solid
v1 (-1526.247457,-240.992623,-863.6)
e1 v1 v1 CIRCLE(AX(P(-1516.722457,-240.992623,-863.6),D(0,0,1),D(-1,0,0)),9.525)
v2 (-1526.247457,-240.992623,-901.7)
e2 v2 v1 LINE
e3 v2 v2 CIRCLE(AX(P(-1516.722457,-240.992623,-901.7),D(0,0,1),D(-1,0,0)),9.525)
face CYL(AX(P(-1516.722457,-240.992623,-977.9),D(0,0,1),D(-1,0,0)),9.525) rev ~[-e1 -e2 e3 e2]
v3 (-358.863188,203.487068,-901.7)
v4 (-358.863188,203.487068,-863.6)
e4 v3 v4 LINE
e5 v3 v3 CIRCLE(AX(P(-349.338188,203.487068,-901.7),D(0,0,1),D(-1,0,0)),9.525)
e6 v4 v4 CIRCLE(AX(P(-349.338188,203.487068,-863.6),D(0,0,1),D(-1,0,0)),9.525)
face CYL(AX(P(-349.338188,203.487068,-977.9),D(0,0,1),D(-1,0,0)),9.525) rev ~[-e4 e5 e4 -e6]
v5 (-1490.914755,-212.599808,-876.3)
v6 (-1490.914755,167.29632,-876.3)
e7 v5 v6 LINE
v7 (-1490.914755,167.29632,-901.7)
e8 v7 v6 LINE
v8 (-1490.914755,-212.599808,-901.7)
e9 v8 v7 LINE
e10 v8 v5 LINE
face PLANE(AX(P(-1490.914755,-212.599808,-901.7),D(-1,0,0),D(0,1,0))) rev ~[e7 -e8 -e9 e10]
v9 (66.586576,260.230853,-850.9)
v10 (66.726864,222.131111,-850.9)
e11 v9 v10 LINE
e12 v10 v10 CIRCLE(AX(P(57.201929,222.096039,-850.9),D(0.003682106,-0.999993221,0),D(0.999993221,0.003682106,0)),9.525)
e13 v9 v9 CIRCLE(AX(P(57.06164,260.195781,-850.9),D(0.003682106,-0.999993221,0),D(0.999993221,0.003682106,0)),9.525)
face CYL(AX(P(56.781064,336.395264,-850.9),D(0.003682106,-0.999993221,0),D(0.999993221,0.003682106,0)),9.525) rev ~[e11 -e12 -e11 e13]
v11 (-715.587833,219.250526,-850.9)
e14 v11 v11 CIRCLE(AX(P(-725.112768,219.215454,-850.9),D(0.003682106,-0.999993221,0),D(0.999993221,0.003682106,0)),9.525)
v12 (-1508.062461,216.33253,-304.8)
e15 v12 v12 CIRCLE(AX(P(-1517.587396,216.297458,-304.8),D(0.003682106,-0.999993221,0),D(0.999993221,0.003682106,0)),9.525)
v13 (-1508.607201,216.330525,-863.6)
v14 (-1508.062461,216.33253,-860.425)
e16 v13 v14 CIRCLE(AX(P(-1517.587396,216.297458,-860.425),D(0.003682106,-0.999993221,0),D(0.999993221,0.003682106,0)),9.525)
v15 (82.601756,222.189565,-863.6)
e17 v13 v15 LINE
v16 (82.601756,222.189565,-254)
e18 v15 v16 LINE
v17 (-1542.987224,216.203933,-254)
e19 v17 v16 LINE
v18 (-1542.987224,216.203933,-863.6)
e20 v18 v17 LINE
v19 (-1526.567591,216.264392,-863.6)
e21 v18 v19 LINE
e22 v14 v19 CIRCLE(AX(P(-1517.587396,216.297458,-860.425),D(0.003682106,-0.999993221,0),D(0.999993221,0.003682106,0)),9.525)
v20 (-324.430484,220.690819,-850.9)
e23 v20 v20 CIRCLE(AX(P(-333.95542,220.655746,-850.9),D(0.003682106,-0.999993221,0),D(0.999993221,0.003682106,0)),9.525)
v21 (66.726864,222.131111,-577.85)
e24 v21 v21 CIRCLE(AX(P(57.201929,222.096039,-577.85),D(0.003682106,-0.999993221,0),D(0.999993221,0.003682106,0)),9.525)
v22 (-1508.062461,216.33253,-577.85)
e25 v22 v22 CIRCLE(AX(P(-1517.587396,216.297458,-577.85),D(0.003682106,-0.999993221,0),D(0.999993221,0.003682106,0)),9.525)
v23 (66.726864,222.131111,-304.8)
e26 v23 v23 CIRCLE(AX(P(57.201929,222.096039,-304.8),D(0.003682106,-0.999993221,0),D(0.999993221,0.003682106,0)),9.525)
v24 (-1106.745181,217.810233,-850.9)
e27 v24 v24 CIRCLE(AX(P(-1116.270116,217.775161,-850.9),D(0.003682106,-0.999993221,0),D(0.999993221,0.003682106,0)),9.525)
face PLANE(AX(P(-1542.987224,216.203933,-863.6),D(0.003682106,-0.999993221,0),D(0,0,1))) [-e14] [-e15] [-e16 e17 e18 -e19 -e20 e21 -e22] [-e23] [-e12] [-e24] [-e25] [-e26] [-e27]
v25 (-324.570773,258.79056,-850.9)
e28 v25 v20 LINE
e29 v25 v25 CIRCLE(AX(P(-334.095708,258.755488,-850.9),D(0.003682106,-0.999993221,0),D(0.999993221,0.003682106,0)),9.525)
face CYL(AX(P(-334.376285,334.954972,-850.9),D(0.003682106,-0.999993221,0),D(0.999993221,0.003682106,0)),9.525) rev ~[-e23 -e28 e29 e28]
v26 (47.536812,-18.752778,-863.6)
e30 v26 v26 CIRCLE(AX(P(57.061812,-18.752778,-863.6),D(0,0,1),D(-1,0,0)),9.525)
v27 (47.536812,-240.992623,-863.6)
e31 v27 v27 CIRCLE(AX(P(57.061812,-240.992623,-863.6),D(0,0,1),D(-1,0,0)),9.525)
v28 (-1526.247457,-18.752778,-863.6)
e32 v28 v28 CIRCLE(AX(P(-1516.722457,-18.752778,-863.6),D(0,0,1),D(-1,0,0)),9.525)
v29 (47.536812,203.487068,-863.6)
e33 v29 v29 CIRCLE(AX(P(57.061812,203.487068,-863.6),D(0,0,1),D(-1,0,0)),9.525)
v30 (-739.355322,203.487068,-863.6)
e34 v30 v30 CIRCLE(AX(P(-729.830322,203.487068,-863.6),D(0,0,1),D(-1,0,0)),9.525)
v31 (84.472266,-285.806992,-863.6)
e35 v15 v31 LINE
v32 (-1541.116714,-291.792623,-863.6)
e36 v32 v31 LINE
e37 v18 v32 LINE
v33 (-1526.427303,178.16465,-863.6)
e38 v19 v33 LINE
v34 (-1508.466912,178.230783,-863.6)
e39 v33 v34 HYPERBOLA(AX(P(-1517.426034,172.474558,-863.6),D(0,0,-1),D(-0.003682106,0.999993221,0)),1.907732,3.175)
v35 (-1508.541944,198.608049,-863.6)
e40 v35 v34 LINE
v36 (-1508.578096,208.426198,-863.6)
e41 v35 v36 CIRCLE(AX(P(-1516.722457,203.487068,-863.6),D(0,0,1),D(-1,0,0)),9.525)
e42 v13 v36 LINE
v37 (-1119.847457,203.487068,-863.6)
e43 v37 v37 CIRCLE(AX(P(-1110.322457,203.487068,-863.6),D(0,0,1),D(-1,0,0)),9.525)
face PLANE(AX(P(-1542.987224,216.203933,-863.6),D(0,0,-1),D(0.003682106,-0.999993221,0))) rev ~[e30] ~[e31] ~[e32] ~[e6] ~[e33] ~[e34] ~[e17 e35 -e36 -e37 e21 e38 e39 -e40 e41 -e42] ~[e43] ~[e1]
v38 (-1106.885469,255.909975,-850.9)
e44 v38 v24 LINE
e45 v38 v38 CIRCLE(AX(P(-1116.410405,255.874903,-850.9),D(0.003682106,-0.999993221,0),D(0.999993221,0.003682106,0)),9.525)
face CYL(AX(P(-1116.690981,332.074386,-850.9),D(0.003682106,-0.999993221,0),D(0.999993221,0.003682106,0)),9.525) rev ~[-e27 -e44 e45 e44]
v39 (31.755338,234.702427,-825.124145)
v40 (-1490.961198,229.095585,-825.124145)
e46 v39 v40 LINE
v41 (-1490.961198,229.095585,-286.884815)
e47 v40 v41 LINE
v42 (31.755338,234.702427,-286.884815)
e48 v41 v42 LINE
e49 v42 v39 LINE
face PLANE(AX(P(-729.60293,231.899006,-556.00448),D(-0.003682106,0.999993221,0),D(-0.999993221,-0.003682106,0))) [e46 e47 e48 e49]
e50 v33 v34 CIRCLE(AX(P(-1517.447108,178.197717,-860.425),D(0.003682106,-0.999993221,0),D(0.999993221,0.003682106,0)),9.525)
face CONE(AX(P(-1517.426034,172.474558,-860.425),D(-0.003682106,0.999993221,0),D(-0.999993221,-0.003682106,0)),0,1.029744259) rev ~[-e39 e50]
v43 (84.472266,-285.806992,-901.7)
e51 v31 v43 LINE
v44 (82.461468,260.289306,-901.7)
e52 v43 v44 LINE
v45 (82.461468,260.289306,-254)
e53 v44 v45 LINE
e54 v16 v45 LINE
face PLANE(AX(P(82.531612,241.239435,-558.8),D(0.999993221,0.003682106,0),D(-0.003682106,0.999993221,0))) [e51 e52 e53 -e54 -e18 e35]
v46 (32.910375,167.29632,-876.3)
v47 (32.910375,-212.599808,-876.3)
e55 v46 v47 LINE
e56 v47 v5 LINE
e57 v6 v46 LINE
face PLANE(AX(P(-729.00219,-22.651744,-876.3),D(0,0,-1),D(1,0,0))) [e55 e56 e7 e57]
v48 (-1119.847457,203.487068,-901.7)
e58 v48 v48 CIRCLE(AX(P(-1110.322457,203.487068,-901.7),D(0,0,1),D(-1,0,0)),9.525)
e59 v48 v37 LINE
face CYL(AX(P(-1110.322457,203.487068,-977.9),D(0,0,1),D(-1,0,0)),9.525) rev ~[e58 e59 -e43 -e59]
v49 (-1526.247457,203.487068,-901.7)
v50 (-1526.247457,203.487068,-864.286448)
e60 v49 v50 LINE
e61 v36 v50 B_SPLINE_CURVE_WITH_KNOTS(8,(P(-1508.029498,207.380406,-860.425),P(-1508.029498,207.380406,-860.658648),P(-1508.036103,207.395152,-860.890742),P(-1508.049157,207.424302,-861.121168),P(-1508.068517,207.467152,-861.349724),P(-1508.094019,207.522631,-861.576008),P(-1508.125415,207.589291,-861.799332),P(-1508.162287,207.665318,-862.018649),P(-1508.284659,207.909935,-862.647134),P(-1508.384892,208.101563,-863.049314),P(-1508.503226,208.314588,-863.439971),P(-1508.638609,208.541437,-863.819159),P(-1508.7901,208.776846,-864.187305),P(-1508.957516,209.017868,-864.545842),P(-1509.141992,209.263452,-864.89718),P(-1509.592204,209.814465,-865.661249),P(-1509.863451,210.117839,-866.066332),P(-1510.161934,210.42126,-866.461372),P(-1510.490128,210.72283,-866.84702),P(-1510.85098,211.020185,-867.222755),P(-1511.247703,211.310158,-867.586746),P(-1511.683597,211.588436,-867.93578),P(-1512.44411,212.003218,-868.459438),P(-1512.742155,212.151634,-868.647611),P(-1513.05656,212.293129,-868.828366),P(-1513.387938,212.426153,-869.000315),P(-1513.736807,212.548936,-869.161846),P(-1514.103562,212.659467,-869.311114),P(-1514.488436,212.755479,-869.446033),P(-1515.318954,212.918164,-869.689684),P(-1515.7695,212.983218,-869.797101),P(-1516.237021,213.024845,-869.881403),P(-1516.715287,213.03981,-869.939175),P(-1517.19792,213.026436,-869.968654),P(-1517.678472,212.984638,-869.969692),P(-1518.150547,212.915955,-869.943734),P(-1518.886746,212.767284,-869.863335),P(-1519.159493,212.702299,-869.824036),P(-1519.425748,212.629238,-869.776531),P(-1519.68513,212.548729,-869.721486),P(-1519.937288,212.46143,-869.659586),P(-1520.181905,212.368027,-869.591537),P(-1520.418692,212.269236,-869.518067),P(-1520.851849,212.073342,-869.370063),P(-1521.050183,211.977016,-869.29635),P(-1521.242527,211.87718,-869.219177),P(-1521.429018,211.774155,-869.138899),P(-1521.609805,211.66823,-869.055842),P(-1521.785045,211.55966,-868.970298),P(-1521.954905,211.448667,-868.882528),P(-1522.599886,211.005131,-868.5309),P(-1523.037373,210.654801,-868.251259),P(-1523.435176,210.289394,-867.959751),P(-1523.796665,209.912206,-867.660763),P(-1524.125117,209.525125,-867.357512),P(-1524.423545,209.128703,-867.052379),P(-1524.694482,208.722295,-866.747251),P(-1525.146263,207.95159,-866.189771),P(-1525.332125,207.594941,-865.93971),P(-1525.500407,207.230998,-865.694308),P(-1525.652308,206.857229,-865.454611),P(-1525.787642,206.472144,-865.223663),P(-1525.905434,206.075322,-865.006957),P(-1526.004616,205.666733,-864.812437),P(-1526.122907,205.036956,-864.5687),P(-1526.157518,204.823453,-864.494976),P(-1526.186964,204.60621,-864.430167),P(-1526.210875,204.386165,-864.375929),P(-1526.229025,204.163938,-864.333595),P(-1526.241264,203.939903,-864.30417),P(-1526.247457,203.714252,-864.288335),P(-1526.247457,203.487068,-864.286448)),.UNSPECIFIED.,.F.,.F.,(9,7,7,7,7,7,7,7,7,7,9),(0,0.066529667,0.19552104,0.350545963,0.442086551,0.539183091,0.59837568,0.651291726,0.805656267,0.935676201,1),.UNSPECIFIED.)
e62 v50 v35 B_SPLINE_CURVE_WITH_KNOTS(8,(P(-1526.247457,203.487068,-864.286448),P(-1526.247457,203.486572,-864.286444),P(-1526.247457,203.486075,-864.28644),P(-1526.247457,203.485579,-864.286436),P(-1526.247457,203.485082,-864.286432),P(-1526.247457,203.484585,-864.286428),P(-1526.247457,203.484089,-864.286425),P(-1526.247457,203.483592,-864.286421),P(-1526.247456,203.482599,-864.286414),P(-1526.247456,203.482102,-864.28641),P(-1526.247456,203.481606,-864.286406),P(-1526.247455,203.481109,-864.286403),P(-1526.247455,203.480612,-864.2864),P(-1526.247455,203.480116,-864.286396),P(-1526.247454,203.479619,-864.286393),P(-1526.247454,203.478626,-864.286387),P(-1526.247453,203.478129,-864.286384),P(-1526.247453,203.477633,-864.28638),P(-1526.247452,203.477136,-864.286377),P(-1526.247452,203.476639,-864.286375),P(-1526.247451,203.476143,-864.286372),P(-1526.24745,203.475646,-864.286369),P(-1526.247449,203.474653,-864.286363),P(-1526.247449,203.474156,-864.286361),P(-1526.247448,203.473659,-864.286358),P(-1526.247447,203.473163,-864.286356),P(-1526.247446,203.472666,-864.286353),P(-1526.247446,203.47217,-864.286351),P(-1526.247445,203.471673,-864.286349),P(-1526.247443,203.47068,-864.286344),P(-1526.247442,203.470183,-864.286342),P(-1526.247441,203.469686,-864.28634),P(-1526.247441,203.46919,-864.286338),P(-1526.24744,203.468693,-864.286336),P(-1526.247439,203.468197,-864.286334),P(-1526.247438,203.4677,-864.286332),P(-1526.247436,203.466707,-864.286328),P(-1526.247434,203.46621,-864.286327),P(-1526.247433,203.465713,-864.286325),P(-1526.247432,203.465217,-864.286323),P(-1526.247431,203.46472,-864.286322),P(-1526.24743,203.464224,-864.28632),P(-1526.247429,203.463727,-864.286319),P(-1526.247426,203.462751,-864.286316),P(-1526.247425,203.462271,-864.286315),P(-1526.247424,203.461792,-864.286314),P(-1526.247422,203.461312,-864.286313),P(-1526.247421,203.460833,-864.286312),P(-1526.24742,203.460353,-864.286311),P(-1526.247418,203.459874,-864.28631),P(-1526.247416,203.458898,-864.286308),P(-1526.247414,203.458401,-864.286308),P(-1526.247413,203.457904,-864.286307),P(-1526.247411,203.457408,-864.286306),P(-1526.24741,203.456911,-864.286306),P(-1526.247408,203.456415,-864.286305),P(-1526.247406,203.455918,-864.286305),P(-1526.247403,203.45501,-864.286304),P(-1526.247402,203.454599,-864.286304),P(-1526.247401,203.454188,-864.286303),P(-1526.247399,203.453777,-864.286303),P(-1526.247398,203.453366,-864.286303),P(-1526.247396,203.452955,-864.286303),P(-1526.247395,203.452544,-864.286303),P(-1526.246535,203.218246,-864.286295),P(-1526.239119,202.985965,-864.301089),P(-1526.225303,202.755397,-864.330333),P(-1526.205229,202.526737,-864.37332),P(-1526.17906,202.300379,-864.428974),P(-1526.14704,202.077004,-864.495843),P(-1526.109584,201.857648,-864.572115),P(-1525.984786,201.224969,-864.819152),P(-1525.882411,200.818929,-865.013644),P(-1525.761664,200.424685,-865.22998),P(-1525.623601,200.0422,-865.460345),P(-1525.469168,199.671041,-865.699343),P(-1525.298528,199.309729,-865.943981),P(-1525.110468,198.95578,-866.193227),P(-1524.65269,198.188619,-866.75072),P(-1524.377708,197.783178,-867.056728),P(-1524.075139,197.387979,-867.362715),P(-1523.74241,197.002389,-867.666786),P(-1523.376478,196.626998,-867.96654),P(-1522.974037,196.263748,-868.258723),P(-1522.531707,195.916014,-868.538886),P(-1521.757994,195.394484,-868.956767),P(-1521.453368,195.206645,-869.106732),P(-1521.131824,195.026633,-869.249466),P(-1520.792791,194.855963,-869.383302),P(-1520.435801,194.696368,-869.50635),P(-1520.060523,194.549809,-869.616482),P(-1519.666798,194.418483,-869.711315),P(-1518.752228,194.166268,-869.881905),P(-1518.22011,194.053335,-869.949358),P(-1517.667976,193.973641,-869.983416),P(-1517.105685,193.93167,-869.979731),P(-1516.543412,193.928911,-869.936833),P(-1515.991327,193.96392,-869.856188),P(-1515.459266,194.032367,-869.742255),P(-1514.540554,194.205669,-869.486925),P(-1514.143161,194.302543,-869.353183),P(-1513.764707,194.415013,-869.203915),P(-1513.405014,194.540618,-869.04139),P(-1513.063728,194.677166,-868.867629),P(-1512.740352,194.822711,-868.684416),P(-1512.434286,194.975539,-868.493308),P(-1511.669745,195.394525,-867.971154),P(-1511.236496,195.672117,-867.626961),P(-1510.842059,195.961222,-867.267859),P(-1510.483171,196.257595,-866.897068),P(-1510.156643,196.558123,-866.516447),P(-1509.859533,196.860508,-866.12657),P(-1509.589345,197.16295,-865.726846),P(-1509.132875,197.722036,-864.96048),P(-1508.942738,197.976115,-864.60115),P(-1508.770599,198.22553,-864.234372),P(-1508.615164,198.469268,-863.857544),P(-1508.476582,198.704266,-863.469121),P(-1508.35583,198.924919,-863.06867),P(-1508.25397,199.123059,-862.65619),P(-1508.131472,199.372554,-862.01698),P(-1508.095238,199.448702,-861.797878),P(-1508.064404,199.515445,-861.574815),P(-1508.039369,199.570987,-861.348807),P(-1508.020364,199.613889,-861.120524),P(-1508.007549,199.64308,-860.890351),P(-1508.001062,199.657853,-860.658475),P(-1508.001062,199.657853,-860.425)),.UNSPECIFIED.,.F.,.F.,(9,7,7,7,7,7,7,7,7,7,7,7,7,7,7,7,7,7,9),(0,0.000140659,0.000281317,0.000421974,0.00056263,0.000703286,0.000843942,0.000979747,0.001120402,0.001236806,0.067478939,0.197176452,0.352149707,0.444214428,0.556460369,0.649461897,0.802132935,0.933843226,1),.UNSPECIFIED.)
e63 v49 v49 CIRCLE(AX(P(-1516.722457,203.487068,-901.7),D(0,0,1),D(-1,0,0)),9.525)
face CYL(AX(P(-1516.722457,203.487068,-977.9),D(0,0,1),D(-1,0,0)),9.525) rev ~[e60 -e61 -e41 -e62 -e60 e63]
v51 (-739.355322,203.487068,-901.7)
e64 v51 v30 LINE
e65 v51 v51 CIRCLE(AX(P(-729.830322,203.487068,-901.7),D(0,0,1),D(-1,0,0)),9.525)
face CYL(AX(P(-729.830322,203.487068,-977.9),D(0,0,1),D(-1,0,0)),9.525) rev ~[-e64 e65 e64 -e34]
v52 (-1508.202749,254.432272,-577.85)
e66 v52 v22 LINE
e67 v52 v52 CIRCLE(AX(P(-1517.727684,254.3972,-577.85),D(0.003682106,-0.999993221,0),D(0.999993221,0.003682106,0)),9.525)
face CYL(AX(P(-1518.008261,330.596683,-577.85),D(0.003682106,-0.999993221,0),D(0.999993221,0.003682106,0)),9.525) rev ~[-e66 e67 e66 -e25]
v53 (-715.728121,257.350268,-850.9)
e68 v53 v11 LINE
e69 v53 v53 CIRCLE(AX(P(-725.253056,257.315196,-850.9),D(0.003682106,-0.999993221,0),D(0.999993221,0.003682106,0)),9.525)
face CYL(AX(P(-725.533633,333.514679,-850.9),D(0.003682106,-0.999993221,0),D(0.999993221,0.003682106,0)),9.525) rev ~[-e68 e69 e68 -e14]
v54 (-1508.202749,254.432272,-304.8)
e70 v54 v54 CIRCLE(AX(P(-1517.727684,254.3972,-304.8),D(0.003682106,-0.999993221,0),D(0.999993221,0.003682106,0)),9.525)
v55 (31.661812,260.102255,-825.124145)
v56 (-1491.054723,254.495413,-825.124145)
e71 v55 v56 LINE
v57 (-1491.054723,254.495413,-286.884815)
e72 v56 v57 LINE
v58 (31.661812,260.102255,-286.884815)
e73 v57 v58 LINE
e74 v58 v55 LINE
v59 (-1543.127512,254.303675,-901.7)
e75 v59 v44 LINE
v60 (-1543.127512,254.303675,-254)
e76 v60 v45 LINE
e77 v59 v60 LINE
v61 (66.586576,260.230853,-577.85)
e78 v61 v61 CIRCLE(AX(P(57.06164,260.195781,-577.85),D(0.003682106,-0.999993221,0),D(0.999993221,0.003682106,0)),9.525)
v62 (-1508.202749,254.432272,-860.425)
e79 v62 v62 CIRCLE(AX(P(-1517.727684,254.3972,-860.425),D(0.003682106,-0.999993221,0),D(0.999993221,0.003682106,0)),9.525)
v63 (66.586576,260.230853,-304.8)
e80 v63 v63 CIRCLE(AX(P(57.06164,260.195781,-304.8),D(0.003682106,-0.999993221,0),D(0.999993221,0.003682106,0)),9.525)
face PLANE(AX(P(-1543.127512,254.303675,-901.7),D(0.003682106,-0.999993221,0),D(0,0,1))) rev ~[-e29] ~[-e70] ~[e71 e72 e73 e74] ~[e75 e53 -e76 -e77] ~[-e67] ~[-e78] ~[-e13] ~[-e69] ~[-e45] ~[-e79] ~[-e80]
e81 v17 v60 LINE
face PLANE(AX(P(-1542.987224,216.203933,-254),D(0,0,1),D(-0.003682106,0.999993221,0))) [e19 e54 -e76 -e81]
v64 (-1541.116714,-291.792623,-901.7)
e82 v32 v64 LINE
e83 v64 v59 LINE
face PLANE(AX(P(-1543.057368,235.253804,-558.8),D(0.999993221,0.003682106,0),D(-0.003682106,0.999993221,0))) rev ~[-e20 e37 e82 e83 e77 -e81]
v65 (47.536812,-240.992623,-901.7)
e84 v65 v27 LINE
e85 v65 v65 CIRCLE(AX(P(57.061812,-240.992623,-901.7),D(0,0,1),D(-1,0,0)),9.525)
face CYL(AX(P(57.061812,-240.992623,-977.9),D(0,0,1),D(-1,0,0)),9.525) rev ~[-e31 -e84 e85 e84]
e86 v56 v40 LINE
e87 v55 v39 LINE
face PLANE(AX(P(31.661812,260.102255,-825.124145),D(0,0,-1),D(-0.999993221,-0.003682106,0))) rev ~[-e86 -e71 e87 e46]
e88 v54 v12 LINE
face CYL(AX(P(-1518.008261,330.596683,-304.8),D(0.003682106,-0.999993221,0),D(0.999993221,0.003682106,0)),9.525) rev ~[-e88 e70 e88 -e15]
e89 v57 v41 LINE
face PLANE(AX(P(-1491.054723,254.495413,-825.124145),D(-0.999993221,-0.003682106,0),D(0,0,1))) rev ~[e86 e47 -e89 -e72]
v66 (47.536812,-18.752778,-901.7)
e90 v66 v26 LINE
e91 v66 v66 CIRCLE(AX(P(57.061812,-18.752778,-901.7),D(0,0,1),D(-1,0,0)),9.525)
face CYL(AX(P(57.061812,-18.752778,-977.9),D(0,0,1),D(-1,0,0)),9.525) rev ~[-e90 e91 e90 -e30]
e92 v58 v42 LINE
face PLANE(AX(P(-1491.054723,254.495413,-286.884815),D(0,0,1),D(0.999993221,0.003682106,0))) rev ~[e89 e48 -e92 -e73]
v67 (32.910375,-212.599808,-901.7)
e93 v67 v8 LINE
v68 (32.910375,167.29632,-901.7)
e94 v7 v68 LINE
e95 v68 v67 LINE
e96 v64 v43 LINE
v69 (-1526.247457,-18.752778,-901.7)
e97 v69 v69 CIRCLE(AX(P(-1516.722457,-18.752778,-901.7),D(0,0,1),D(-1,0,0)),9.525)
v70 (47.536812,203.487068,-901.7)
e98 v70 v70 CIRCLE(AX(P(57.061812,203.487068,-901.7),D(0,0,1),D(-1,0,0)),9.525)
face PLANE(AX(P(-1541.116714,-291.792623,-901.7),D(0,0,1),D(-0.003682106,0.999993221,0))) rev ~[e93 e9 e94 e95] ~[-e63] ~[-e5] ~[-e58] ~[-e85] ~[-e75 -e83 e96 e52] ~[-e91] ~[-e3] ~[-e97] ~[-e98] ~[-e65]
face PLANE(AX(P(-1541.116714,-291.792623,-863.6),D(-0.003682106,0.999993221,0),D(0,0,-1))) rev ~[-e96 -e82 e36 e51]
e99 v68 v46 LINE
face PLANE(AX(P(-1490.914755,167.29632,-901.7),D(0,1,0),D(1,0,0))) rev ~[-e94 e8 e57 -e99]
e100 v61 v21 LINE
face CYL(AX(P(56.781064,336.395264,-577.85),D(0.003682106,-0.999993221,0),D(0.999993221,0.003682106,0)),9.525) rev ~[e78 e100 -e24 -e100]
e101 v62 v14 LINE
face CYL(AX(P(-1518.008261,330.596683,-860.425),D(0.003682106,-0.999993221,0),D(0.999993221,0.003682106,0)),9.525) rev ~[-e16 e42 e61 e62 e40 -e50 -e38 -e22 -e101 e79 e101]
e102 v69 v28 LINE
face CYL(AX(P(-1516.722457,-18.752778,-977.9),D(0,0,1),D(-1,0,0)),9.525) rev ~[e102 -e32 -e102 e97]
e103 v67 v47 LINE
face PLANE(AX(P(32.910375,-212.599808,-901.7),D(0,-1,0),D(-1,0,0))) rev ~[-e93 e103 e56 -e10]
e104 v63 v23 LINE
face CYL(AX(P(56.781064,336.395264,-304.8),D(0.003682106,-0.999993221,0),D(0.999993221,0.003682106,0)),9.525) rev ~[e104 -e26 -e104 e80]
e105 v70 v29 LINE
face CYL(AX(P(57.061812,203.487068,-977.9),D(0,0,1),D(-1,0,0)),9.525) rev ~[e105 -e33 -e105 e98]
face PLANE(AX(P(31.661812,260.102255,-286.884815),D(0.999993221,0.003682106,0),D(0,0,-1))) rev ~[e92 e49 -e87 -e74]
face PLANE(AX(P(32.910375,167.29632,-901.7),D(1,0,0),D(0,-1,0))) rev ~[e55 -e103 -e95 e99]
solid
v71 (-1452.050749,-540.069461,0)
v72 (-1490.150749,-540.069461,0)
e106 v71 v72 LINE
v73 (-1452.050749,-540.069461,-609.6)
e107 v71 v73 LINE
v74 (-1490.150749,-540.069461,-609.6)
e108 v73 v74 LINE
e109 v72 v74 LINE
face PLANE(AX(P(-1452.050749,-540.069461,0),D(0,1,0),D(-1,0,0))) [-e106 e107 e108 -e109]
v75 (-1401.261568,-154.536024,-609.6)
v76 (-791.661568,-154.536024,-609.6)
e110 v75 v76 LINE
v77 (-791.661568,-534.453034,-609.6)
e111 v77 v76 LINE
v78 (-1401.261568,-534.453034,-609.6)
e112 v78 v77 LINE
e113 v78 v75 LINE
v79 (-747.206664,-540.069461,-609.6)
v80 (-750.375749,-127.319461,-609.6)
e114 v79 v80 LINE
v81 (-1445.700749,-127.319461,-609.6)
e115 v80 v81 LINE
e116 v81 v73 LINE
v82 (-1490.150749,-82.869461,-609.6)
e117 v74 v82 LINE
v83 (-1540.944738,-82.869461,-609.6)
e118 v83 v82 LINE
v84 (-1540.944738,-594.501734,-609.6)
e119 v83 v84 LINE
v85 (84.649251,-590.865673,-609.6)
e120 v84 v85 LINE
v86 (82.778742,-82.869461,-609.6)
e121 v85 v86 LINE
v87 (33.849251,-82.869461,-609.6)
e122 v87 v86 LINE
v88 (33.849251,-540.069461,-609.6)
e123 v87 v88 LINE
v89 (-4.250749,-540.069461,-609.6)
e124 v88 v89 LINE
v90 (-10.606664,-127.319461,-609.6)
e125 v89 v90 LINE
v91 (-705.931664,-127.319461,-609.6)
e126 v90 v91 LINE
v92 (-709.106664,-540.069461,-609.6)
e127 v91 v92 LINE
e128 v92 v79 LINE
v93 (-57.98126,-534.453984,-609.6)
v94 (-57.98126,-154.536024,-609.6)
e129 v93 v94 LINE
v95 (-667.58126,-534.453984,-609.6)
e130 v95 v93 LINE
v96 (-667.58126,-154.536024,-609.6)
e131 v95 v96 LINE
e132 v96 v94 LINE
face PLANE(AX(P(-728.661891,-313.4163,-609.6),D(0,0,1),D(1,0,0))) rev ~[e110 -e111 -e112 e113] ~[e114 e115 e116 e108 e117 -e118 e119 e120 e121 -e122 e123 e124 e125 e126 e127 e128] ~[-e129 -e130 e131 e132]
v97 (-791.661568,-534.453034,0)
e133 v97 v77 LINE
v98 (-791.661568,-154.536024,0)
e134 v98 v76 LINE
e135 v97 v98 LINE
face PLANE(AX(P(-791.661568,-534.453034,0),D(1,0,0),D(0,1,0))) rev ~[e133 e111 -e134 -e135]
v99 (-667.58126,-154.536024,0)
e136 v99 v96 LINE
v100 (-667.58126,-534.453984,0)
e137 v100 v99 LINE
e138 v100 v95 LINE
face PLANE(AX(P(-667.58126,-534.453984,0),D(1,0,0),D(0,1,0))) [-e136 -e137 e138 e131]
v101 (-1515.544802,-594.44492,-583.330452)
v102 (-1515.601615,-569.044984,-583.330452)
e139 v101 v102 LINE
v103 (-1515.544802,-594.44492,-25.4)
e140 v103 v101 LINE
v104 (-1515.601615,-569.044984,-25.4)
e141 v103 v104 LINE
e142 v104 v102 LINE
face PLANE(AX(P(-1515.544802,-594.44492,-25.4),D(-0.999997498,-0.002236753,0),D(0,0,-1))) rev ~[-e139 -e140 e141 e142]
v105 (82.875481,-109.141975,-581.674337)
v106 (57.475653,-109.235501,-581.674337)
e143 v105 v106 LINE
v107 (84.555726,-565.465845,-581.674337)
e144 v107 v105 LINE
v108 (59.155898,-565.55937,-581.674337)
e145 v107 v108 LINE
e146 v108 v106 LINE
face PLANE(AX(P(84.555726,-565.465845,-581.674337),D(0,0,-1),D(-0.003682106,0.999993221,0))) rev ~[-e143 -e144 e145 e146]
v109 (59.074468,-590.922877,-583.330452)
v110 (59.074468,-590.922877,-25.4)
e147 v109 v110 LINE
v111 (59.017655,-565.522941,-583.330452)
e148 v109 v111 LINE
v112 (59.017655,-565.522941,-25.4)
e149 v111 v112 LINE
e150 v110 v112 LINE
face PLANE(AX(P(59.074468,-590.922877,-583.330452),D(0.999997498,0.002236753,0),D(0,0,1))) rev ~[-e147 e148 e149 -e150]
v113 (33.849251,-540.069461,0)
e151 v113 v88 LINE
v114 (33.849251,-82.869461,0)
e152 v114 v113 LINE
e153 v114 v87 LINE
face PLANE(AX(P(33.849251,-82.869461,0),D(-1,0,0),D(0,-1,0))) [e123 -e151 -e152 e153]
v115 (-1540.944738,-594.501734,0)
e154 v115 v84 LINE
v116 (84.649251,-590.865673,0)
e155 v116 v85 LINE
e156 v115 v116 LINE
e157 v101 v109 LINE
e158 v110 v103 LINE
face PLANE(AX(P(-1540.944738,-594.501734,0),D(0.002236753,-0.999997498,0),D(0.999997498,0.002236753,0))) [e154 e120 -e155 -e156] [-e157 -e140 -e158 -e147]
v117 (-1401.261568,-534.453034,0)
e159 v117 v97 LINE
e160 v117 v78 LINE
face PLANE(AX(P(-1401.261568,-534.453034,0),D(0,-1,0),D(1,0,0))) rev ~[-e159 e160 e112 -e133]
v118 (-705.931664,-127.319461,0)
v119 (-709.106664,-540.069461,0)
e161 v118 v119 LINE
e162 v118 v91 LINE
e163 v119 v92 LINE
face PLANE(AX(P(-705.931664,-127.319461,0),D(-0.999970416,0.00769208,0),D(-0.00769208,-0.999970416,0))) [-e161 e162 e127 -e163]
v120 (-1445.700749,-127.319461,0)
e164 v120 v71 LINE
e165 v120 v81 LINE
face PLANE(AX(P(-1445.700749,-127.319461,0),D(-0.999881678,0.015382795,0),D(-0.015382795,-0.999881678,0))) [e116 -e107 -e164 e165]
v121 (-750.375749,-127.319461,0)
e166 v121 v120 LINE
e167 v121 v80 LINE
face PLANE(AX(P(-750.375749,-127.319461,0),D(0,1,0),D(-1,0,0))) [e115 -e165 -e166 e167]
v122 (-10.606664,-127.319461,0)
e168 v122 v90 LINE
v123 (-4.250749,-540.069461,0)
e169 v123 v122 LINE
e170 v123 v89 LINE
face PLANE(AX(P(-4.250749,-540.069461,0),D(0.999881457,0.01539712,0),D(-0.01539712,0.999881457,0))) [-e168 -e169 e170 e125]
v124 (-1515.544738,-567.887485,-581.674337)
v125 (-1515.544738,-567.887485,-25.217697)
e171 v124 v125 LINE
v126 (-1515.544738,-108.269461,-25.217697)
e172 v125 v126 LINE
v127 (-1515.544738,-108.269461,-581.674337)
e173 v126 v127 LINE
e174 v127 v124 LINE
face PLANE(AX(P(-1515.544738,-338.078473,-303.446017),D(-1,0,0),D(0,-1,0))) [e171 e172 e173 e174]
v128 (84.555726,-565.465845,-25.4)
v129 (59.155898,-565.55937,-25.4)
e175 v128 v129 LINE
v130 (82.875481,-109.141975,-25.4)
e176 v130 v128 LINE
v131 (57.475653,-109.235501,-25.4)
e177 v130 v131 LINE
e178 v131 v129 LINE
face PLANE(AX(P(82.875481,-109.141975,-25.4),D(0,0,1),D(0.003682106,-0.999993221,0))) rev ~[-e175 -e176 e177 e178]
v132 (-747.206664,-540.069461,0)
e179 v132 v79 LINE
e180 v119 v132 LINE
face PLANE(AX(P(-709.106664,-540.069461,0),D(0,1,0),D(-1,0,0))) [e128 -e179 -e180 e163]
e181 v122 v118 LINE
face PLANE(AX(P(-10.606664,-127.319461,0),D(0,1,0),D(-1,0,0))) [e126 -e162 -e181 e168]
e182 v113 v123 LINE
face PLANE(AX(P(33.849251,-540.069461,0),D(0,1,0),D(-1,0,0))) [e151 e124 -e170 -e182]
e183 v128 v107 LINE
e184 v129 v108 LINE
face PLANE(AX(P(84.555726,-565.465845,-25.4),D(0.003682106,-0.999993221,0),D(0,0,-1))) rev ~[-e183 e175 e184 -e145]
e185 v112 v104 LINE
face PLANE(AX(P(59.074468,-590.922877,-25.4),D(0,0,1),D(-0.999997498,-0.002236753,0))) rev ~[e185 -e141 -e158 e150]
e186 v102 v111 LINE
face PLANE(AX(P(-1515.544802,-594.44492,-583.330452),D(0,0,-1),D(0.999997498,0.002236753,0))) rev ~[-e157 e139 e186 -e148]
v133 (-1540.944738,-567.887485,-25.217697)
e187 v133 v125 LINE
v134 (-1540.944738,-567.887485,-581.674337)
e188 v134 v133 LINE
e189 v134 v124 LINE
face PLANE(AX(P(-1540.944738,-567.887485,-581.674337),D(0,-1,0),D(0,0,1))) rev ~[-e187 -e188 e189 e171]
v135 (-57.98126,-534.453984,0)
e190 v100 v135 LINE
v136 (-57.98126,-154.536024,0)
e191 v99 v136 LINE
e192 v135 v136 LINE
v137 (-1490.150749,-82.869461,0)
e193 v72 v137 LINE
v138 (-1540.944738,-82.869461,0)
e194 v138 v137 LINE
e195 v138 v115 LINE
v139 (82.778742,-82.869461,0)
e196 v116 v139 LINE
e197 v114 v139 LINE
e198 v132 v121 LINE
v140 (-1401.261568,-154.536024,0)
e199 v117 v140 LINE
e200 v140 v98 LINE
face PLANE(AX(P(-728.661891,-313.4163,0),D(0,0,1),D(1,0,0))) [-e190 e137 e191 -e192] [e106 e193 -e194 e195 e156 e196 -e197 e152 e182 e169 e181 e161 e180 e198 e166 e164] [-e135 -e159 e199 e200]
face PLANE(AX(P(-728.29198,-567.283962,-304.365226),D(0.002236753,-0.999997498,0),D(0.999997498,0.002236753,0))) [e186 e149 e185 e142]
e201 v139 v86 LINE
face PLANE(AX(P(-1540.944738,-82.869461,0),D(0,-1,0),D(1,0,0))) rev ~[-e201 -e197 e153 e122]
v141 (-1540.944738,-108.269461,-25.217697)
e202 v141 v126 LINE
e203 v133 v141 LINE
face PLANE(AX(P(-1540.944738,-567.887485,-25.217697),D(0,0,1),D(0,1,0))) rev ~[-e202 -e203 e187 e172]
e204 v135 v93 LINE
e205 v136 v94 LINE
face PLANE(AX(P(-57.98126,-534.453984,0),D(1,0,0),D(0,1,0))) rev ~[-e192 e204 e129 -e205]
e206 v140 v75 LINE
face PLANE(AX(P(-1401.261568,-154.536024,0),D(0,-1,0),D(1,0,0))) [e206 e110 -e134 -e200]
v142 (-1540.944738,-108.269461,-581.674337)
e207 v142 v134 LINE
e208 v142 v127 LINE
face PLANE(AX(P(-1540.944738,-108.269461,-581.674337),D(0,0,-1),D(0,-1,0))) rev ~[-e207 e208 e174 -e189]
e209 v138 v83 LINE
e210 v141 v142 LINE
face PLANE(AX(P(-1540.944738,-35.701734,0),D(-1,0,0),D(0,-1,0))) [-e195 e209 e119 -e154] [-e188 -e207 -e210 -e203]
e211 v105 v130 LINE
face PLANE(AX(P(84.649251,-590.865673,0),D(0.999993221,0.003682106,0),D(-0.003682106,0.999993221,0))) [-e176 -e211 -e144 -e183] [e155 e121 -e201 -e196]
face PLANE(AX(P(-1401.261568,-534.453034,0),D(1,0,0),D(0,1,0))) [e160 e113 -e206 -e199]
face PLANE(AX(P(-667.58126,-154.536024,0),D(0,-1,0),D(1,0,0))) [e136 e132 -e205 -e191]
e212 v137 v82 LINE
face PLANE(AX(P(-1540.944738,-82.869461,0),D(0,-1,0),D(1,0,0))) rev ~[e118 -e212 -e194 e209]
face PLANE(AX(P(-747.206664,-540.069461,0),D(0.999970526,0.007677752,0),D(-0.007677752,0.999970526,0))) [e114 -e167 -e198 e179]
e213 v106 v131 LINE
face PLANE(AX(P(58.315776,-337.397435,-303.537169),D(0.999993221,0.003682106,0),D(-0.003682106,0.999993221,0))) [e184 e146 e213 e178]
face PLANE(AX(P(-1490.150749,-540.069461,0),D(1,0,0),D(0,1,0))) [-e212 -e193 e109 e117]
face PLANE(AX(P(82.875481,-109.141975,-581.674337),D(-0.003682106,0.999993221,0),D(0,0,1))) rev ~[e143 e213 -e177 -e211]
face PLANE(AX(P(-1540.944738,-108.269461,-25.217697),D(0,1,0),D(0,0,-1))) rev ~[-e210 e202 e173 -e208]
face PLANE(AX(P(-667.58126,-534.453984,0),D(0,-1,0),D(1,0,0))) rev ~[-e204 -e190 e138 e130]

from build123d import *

# Parameters (mm, degrees)
F1_DEPTH  = 609.6
F2_W      = 609.6
F2_H      = 379.9170106649
F3_DEPTH  = 609.6
F4_W      = 609.6
F4_H      = 379.91796
F5_DEPTH  = 609.6
F7_DEPTH  = 609.6
F8_W      = 38.1
F8_H      = 609.6
F9_DEPTH  = 1625.6
F12_DEPTH = 25.4
F14_DEPTH = 25.4
F16_DEPTH = 25.4
F18_D     = 19.05
F18_DEPTH = 76.2
F18_TIP   = 5.7231973962
F20_D     = 19.05
F20_DEPTH = 76.2
F20_TIP   = 5.7231973962
F22_DEPTH = 25.4
F24_D     = 19.05
F24_DEPTH = 76.2
F24_TIP   = 5.7231973962
F26_DEPTH = 25.4


with BuildPart() as f1:
    # F0 (on Top) → F1 (new body)
    with BuildSketch(Plane.XY):
        Polygon((84.6492510451, -590.8656727771), (82.5916901231, -32.0694608688), (-1540.9447381875, -35.7017337799), (-1540.9447381875, -594.5017337799), align=None)
        Polygon((-1490.1507489549, -540.0694608688), (-1490.1507489549, -82.8694608688), (33.8492510451, -82.8694608688), (33.8492510451, -540.0694608688), (-4.2507489549, -540.0694608688), (-10.6066635132, -127.3194608688), (-705.9316635132, -127.3194608688), (-709.1066635132, -540.0694608688), (-747.2066635132, -540.0694608688), (-750.3757489549, -127.3194608688), (-1445.7007489549, -127.3194608688), (-1452.0507489549, -540.0694608688), align=None, mode=Mode.SUBTRACT)
    extrude(amount=-F1_DEPTH)

    # F2 (on face) → F3 (cut)
    with BuildSketch(Plane.XY):
        with Locations((-1096.4615680695, -344.4945290685)):
            Rectangle(F2_W, F2_H)
    extrude(amount=-F3_DEPTH, mode=Mode.SUBTRACT)

    # F4 (on face) → F5 (cut)
    with BuildSketch(Plane.XY):
        with Locations((-362.7812602043, -344.495003736)):
            Rectangle(F4_W, F4_H)
    extrude(amount=-F5_DEPTH, mode=Mode.SUBTRACT)

    # F6 (on face) → F7 (cut)
    with BuildSketch(Plane.XY):
        Polygon((-1540.9447381875, -35.7017337799), (-1540.9447381875, -82.8694608688), (82.778742384, -82.8694608688), (82.5916901231, -32.0694608688), align=None)
    extrude(amount=-F7_DEPTH, mode=Mode.SUBTRACT)

    # F11 (on face) → F12 (cut)
    with BuildSketch(Plane(origin=(1.3220406475, -591.0520556145, 0), x_dir=(0.9999974985, 0.0022367528, 0), z_dir=(0.0022367528, -0.9999974985, 0))):
        Polygon((-1465.8825397491, -25.4), (-1516.8706368785, -25.4), (-1516.8706368785, -290.197044611), (-1516.8706368785, -583.3304524422), (57.752572, -583.3304524422), (57.752572, -25.4), align=None)
    extrude(amount=-F12_DEPTH, mode=Mode.SUBTRACT)

    # F13 (on face) → F14 (cut)
    with BuildSketch(Plane(origin=(82.4724879938, 0.3036745146, 0), x_dir=(-0.0036821062, 0.999993221, 0), z_dir=(0.999993221, 0.0036821062, 0))):
        Polygon((-337.1735270288, -25.4), (-565.7733548417, -25.4), (-565.7733548417, -58.3401173353), (-565.7733548417, -581.6743373871), (-109.4463914633, -581.6743373871), (-109.4463914633, -25.4), align=None)
    extrude(amount=-F14_DEPTH, mode=Mode.SUBTRACT)

    # F15 (on face) → F16 (cut)
    with BuildSketch(Plane(origin=(-1540.9447381875, 0, 0), x_dir=(0, -1, 0), z_dir=(-1, 0, 0))):
        Polygon((338.6855973244, -25.2176970243), (108.2694608688, -25.2176970243), (108.2694608688, -290.197044611), (108.2694608688, -581.6743373871), (567.8874850273, -581.6743373871), (567.8874850273, -25.2176970243), align=None)
    extrude(amount=-F16_DEPTH, mode=Mode.SUBTRACT)


with BuildPart() as f9:
    # F8 (on face) → F9 (new body)
    with BuildSketch(Plane(origin=(82.4724879938, 0.3036745146, 0), x_dir=(-0.0036821062, 0.999993221, 0), z_dir=(0.999993221, 0.0036821062, 0))):
        with Locations((-19.05, -304.8)):
            Rectangle(F8_W, F8_H)
        Polygon((0, -609.6), (-38.1, -609.6), (-83.173699216, -609.6), (-546.1, -609.6), (-546.1, -647.7), (0, -647.7), align=None)
    extrude(amount=F9_DEPTH)


with BuildPart() as f9_1:
    # F10: moved
    add(f9.part.moved(Location((-1625.6, 254, -254))))

    # F18
    with Locations(Plane(origin=(-0.9572883561, 259.9821474887, 0), x_dir=(-0.999993221, -0.0036821062, 0), z_dir=(-0.0036821062, 0.999993221, 0))):
        with Locations((-58.0193219443, -304.8), (-58.0193219443, -577.85), (-58.0193219443, -850.9)):
            Hole(F18_D / 2, depth=F18_DEPTH)
            with Locations((0, 0, -(F18_DEPTH + F18_TIP / 2))):  # 118° drill point
                Cone(0, F18_D / 2, F18_TIP, mode=Mode.SUBTRACT)

    # F20
    with Locations(Plane(origin=(-0.9572883561, 259.9821474887, 0), x_dir=(-0.999993221, -0.0036821062, 0), z_dir=(-0.0036821062, 0.999993221, 0))):
        with Locations((333.1406780557, -850.9), (724.3006780557, -850.9), (1115.4606780557, -850.9), (1516.7806780557, -860.425), (1516.7806780557, -577.85), (1516.7806780557, -304.8)):
            Hole(F20_D / 2, depth=F20_DEPTH)
            with Locations((0, 0, -(F20_DEPTH + F20_TIP / 2))):  # 118° drill point
                Cone(0, F20_D / 2, F20_TIP, mode=Mode.SUBTRACT)

    # F21 (on face) → F22 (cut)
    with BuildSketch(Plane(origin=(-0.9572883561, 259.9821474887, 0), x_dir=(-0.999993221, -0.0036821062, 0), z_dir=(-0.0036821062, 0.999993221, 0))):
        Polygon((-32.6193219443, -286.8848145008), (-32.6193219443, -374.6592402458), (-32.6193219443, -825.1241445541), (1490.1075363159, -825.1241445541), (1490.1075363159, -286.8848145008), align=None)
    extrude(amount=-F22_DEPTH, mode=Mode.SUBTRACT)

    # F24
    with Locations(Plane(origin=(0, 0, -901.7), x_dir=(1, 0, 0), z_dir=(0, 0, -1))):
        with Locations((-1516.7224572913, 240.9926234866), (-1516.7224572913, 18.752777536), (-1516.7224572913, -203.4870684147), (-1110.3224572913, -203.4870684147), (-349.3381875374, -203.4870684147), (-729.8303224143, -203.4870684147), (57.0618124626, -203.4870684147), (57.0618124626, 18.752777536), (57.0618124626, 240.9926234866)):
            Hole(F24_D / 2, depth=F24_DEPTH)
            with Locations((0, 0, -(F24_DEPTH + F24_TIP / 2))):  # 118° drill point
                Cone(0, F24_D / 2, F24_TIP, mode=Mode.SUBTRACT)

    # F25 (on face) → F26 (cut)
    with BuildSketch(Plane(origin=(0, 0, -901.7), x_dir=(1, 0, 0), z_dir=(0, 0, -1))):
        Polygon((-1490.9147545666, 212.5998076), (-1490.9147545666, 129.2820857336), (-1490.9147545666, -167.2963202), (32.9103753676, -167.2963202), (32.9103753676, 78.9847744763), (32.9103753676, 212.5998076), (-728.322223784, 212.5998076), align=None)
    extrude(amount=-F26_DEPTH, mode=Mode.SUBTRACT)


solid = Compound([f1.part, f9_1.part])
